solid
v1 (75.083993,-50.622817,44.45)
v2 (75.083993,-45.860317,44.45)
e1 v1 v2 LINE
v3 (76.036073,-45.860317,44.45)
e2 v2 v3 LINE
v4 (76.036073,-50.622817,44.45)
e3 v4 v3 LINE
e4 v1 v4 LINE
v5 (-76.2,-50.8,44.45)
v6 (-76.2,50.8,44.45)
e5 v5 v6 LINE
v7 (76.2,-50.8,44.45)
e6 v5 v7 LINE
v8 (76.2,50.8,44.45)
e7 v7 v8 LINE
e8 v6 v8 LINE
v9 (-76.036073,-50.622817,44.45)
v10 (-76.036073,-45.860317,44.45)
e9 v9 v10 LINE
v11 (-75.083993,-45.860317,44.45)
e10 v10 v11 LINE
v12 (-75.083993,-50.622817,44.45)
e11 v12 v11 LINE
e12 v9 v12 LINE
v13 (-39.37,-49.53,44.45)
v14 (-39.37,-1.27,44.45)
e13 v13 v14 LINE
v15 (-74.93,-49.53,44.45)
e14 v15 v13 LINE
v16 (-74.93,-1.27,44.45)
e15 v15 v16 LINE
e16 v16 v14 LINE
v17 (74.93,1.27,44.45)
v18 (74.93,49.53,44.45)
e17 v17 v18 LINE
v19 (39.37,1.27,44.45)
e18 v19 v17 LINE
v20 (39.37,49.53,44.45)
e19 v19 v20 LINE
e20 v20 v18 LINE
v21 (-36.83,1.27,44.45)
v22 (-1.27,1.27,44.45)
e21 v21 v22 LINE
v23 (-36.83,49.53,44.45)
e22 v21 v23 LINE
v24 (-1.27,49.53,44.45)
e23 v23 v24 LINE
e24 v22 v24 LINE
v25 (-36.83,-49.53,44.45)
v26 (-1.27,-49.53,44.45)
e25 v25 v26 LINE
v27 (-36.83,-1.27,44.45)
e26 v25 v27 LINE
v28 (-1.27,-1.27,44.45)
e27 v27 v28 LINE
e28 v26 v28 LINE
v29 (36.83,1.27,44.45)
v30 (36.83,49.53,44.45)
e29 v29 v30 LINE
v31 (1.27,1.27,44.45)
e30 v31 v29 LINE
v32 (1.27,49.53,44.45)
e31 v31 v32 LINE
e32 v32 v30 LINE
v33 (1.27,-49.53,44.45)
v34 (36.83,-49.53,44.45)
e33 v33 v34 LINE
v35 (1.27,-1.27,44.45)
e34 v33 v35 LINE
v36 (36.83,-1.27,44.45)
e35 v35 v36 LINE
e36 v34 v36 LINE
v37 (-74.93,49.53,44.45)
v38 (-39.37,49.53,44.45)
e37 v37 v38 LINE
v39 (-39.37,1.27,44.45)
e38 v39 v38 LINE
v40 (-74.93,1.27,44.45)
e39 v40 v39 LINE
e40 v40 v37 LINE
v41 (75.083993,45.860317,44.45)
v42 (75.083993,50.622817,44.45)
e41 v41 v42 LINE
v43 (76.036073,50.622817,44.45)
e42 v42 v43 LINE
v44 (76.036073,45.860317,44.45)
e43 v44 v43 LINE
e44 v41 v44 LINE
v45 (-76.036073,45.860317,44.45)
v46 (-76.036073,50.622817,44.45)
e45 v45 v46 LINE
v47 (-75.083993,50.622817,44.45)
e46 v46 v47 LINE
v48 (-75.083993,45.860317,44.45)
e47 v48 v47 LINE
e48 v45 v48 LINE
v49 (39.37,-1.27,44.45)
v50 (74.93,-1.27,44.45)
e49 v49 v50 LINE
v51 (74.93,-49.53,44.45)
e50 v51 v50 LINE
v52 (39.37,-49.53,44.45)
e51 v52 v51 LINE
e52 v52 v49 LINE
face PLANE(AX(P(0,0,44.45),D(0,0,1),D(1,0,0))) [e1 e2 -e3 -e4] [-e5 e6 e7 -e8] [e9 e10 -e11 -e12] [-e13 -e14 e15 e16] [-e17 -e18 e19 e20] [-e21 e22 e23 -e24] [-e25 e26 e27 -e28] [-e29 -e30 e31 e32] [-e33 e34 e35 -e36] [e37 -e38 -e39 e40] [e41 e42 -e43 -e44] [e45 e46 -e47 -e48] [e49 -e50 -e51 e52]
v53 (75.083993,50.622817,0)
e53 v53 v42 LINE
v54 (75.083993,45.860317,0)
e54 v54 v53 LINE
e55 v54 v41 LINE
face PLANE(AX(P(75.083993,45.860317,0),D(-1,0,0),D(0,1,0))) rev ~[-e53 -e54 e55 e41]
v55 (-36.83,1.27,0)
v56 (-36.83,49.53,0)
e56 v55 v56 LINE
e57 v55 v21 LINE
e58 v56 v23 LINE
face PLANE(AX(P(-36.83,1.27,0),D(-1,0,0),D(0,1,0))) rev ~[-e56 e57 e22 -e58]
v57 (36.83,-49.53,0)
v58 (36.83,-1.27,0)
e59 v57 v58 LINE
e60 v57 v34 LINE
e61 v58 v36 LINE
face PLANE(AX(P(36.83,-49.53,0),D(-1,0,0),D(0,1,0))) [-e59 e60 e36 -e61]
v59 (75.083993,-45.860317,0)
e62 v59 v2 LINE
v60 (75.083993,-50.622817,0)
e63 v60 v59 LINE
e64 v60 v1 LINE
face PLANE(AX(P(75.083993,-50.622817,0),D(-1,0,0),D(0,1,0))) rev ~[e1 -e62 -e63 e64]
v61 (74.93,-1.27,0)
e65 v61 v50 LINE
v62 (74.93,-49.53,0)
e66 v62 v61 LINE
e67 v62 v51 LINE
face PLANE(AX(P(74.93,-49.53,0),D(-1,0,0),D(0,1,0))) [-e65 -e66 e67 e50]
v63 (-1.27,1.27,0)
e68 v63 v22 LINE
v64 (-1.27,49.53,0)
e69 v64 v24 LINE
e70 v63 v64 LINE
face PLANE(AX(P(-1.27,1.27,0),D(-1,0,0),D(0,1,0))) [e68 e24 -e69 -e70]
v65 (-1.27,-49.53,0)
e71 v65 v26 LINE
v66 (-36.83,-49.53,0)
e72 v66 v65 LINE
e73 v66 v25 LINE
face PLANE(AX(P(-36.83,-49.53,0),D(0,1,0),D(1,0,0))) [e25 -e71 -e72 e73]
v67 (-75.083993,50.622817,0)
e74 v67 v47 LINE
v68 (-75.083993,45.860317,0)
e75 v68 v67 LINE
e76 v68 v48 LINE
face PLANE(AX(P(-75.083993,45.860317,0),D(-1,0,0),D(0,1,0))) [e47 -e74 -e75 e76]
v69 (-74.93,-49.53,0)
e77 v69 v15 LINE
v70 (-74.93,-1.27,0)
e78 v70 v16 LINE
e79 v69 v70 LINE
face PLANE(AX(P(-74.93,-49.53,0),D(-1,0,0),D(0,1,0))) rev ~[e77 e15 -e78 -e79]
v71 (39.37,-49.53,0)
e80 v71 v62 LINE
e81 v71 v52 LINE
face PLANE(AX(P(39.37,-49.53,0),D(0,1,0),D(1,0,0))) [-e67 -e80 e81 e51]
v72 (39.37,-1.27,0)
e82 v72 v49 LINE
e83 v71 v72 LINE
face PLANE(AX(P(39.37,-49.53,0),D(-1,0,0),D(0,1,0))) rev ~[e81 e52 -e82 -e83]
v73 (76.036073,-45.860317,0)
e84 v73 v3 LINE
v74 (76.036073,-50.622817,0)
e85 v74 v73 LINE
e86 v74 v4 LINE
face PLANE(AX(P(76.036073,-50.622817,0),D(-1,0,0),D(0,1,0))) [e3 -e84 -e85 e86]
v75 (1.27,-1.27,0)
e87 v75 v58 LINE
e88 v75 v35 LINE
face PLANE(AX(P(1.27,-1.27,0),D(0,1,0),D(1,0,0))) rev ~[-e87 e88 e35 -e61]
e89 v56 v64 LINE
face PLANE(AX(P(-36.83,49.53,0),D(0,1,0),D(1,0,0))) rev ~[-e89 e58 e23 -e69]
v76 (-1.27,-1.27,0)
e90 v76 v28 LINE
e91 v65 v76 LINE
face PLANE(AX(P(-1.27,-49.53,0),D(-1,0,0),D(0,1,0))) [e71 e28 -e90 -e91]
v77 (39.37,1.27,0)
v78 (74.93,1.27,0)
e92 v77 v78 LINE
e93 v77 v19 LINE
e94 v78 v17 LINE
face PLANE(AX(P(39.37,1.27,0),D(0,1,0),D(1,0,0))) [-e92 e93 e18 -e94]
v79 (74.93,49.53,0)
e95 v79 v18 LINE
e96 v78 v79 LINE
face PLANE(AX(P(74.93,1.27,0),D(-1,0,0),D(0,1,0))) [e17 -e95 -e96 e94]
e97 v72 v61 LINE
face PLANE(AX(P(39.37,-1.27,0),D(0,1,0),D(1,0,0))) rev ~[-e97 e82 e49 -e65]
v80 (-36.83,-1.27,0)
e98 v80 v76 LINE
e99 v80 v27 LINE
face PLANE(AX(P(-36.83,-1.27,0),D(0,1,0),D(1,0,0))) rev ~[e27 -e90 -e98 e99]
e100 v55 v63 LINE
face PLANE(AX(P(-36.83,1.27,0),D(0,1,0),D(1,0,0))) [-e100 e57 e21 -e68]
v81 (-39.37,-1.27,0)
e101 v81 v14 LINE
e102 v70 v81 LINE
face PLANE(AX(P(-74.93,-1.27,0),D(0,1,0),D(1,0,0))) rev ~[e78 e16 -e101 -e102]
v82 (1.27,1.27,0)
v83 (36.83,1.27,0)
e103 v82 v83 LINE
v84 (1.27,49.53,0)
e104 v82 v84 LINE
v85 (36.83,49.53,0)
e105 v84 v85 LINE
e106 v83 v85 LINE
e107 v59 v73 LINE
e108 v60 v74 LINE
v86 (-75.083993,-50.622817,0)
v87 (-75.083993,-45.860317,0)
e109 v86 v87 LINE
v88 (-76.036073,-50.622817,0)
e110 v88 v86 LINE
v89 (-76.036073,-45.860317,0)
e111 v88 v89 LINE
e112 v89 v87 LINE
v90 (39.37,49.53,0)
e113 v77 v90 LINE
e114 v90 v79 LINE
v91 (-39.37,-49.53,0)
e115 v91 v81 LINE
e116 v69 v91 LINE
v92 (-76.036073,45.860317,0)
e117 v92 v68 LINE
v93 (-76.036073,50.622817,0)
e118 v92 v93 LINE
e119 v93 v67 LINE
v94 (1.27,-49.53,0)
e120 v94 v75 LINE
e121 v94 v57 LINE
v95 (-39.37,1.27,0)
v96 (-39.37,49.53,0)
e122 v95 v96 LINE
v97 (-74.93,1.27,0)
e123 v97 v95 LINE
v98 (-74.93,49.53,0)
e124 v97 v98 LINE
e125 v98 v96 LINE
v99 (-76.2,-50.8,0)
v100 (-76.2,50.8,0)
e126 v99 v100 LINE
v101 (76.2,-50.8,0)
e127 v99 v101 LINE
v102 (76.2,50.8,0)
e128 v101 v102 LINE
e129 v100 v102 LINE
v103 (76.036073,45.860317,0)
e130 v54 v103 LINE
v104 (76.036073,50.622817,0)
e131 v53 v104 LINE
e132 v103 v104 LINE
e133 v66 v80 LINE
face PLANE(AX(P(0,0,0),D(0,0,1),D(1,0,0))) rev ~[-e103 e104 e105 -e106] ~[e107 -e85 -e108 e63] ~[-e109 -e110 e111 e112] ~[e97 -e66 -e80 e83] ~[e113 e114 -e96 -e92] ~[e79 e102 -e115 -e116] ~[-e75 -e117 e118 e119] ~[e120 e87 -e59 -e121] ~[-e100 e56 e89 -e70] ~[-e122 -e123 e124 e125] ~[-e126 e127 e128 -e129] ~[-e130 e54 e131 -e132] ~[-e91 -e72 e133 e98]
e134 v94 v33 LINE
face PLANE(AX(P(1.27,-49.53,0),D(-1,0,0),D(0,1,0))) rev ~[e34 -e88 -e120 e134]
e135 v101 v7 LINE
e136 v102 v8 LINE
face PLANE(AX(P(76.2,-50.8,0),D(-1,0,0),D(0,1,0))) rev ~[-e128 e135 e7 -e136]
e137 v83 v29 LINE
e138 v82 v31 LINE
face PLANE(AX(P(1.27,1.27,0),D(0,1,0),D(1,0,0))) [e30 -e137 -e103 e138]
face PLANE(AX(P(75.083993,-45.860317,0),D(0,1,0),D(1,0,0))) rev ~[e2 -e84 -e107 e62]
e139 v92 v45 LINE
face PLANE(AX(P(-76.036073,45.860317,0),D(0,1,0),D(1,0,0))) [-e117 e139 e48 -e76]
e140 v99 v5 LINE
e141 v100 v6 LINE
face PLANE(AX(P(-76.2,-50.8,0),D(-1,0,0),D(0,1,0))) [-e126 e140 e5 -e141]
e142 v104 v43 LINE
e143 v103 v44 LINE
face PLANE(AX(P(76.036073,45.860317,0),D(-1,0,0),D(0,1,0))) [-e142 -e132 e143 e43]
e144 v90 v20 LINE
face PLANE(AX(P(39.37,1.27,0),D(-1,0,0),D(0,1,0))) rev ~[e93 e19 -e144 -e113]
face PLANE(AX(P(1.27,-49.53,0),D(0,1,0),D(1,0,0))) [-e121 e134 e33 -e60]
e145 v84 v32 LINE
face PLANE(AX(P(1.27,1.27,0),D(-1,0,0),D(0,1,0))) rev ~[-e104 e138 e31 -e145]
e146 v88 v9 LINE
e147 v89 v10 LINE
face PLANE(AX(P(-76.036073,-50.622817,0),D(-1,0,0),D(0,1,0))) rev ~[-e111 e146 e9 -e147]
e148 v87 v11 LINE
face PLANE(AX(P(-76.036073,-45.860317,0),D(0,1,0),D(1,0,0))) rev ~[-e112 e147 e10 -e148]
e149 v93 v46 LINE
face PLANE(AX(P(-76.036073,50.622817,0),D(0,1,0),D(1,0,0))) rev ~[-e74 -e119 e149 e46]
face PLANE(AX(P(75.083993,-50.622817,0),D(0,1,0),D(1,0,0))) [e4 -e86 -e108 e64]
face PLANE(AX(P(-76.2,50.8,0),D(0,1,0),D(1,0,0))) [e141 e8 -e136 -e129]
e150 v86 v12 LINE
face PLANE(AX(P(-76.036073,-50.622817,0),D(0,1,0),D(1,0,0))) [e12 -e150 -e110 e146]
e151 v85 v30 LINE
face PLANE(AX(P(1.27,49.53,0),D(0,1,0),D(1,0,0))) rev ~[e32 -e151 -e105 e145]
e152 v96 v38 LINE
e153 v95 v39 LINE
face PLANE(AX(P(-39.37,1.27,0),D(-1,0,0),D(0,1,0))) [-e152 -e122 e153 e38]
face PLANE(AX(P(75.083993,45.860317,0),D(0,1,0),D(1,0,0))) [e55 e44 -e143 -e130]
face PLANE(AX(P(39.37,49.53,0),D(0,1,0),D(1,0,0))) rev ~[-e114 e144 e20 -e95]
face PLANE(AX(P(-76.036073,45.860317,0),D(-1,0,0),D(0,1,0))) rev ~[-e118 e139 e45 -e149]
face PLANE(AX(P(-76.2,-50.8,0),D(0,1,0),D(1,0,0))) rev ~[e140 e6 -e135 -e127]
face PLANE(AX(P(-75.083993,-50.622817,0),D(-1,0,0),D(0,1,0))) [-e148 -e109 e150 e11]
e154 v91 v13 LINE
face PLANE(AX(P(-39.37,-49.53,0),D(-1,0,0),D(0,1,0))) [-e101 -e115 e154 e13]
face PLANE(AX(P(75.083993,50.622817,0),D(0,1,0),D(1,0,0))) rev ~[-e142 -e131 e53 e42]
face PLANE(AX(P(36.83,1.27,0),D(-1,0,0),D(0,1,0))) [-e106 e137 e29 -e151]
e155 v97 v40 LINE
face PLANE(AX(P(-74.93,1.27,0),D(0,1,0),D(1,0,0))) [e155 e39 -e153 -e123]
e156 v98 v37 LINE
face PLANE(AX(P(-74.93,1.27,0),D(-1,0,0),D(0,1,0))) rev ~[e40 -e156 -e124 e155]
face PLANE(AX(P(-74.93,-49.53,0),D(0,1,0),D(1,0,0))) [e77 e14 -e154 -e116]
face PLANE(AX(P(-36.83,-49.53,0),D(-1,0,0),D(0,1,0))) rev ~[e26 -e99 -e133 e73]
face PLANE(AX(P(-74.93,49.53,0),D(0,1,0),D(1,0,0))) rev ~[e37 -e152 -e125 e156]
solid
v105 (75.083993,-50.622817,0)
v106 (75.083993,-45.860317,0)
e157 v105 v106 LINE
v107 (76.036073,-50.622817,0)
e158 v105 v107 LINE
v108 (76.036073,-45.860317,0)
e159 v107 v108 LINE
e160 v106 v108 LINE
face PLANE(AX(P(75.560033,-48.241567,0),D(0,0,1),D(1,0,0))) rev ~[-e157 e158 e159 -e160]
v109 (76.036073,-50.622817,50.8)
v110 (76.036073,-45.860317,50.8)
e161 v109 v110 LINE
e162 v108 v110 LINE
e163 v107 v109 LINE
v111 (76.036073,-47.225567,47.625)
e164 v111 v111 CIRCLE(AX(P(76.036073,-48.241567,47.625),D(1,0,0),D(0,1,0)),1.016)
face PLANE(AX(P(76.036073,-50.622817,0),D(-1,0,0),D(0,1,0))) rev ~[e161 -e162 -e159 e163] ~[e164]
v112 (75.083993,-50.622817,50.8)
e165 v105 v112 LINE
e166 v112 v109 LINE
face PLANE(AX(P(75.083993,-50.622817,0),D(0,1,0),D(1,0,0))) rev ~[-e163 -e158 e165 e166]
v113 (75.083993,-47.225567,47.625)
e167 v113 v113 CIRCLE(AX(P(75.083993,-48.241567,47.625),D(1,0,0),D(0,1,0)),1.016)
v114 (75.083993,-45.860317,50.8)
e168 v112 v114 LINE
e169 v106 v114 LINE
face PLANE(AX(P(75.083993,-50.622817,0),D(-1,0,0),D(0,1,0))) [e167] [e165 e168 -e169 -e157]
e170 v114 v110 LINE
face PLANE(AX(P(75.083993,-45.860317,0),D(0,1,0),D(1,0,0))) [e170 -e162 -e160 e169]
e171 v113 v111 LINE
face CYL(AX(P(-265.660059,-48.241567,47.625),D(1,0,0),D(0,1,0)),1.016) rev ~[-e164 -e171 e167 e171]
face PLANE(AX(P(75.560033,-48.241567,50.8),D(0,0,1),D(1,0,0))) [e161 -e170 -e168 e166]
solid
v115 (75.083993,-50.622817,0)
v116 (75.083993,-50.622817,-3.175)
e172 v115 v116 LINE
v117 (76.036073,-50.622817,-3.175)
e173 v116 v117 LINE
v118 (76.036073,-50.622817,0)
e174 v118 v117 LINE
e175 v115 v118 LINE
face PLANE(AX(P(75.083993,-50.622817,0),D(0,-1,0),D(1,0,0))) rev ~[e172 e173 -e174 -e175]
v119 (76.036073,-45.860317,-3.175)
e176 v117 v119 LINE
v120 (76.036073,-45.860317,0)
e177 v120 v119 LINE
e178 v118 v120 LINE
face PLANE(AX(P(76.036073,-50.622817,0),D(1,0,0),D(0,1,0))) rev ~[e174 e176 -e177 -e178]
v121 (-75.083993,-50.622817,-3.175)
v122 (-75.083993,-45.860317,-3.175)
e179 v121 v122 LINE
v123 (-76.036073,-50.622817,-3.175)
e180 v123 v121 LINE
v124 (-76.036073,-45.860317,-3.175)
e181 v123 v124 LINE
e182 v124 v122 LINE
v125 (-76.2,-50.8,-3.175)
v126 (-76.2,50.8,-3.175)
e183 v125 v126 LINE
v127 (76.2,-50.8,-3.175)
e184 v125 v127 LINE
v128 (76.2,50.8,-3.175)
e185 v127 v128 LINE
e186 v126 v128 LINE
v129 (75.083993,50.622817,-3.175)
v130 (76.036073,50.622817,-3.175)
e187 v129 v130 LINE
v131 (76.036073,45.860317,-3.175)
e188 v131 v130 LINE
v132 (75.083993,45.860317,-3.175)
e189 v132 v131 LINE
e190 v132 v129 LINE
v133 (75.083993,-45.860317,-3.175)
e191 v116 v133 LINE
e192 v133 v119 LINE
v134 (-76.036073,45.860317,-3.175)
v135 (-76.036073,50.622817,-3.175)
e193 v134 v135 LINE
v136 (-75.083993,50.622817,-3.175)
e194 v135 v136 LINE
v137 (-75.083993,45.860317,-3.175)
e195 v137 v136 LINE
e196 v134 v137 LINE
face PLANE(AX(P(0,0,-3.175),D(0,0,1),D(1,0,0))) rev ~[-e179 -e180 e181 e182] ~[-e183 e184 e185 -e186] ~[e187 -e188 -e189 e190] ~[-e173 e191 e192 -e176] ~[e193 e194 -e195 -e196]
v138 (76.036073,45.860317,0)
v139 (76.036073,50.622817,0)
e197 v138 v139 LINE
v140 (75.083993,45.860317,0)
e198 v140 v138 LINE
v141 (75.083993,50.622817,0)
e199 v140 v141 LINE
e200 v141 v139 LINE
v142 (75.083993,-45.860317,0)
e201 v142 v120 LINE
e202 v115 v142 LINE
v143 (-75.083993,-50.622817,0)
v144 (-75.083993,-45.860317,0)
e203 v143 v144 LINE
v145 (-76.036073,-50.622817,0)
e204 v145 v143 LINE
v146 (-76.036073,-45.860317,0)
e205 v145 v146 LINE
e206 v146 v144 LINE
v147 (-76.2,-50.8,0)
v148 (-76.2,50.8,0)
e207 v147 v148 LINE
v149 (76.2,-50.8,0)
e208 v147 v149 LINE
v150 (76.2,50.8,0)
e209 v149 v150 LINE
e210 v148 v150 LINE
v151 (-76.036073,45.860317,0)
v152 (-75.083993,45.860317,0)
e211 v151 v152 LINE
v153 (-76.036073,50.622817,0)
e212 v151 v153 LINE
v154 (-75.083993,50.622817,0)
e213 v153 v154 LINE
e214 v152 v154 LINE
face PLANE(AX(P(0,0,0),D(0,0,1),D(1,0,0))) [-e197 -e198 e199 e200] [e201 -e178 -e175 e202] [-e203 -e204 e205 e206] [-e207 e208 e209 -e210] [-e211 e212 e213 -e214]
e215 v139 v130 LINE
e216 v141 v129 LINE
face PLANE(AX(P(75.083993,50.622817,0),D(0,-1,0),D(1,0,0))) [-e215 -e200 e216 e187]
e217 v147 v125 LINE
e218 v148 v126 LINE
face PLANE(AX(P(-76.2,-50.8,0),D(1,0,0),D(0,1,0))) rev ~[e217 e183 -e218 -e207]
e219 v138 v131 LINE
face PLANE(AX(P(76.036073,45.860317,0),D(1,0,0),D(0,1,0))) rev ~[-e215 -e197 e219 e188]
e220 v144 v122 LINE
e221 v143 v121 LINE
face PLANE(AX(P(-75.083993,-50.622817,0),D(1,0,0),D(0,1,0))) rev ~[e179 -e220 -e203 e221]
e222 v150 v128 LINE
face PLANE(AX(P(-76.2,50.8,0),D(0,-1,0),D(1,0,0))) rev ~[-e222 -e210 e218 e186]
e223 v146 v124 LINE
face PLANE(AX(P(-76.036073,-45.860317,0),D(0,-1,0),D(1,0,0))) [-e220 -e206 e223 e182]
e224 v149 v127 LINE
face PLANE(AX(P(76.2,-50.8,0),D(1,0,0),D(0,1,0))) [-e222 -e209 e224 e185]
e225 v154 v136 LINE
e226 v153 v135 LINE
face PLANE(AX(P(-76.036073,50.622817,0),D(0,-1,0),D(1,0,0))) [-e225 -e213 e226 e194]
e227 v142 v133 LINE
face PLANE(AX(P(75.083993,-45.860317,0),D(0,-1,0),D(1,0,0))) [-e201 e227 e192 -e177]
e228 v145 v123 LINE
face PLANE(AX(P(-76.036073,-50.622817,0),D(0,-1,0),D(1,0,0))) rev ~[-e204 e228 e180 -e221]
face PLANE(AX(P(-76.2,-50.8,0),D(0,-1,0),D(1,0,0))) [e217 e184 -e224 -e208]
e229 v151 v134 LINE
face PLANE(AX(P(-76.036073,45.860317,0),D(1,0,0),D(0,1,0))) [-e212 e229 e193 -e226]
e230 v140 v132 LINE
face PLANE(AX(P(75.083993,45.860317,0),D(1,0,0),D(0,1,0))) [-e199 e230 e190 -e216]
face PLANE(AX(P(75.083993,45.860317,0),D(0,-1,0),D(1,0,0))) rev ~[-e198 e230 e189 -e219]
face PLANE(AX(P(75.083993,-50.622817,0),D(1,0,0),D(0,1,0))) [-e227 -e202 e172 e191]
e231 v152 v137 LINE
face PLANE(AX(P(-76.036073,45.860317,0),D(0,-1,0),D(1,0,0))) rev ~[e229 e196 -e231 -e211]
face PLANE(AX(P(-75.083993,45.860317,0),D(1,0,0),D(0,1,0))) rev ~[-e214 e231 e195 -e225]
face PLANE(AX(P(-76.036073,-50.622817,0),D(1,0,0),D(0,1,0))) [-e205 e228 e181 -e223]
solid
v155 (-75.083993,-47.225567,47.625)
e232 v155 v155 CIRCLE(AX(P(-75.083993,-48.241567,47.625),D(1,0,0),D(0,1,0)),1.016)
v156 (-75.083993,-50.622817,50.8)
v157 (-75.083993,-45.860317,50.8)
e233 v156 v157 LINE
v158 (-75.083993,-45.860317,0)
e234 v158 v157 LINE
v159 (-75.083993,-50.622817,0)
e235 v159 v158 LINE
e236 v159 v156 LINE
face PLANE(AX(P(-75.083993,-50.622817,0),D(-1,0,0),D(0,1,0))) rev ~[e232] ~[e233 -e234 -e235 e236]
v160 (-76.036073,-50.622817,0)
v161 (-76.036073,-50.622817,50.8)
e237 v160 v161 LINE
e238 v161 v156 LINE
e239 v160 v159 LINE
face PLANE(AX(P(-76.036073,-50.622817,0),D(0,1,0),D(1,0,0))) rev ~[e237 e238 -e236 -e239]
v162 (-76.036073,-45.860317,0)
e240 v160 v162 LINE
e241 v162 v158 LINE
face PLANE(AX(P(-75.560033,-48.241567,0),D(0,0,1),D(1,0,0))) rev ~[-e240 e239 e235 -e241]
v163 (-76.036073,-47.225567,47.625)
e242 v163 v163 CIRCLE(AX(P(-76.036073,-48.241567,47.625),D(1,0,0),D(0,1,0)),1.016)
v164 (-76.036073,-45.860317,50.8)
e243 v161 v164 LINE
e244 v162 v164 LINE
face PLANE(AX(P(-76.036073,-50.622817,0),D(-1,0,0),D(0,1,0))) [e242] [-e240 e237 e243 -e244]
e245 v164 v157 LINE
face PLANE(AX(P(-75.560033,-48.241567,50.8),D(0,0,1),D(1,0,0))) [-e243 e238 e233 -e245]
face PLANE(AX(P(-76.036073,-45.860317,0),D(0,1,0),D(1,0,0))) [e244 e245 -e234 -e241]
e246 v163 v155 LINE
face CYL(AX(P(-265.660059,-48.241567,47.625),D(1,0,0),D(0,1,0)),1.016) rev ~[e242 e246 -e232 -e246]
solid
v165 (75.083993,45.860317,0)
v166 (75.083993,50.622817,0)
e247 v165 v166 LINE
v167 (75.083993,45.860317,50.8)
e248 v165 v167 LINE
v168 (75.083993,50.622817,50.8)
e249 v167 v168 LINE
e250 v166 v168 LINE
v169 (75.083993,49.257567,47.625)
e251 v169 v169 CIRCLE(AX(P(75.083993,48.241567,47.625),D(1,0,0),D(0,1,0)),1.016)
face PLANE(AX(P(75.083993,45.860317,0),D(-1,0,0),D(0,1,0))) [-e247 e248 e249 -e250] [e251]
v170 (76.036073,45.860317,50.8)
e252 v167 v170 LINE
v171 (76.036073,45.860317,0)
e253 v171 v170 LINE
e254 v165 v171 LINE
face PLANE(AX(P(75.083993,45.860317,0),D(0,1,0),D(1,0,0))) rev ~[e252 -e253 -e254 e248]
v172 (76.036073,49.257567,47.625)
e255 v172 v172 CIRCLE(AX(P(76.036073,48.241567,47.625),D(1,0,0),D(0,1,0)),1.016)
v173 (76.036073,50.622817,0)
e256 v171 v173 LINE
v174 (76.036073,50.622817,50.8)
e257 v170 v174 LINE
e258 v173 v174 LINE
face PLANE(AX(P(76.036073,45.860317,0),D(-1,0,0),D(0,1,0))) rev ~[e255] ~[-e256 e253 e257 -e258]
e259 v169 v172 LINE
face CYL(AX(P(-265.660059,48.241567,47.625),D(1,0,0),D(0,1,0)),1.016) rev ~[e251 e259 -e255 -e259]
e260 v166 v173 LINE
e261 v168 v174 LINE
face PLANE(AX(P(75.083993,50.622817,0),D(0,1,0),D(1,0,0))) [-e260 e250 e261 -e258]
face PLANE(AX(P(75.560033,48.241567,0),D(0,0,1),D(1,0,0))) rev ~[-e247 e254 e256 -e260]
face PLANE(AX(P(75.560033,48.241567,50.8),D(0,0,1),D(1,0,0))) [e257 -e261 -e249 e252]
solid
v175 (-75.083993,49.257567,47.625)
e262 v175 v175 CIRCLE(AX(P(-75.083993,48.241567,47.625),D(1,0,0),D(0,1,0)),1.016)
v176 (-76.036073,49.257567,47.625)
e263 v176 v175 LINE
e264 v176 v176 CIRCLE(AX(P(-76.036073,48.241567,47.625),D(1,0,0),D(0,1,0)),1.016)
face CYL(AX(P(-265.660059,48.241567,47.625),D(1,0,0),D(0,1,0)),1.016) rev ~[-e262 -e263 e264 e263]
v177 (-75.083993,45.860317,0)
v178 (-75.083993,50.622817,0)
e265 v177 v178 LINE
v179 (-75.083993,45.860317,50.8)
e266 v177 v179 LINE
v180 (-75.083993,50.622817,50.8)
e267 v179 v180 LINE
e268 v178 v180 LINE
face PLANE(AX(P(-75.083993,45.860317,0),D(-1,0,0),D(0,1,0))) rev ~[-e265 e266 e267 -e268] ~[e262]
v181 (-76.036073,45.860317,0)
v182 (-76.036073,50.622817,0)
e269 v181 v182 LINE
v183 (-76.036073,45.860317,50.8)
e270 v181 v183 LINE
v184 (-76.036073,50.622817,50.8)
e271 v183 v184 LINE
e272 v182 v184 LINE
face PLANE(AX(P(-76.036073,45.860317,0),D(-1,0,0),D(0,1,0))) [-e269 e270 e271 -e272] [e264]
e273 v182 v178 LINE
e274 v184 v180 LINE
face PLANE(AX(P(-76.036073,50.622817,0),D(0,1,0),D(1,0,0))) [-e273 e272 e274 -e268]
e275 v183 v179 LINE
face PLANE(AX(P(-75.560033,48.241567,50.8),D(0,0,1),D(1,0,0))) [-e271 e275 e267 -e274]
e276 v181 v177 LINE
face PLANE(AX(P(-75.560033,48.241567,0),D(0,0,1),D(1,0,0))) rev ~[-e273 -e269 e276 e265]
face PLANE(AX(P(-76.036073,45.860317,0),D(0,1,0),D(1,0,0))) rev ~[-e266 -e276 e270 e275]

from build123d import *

# Parameters (mm, degrees)
F0_W     = 152.4
F0_H     = 101.6
F0_W_2   = 0.95208
F0_H_2   = 4.7625
F0_W_3   = 35.56
F0_H_3   = 48.26
F1_DEPTH = 3.175
F2_DEPTH = 50.8
F3_DEPTH = 44.45
F5_D     = 2.032
F6_D     = 2.032


with BuildPart() as f1:
    # F0 (on Top) → F1 (new body)
    with BuildSketch(Plane.XY):
        Rectangle(F0_W, F0_H)
        with Locations((-75.560033, -48.241567)):
            Rectangle(F0_W_2, F0_H_2, mode=Mode.SUBTRACT)
        with Locations((-57.15, -25.4)):
            Rectangle(F0_W_3, F0_H_3, mode=Mode.SUBTRACT)
        with Locations((-19.05, -25.4)):
            Rectangle(F0_W_3, F0_H_3, mode=Mode.SUBTRACT)
        with Locations((19.05, -25.4)):
            Rectangle(F0_W_3, F0_H_3, mode=Mode.SUBTRACT)
        with Locations((75.560033, -48.241567)):
            Rectangle(F0_W_2, F0_H_2, mode=Mode.SUBTRACT)
        with Locations((57.15, -25.4)):
            Rectangle(F0_W_3, F0_H_3, mode=Mode.SUBTRACT)
        with Locations((-57.15, 25.4)):
            Rectangle(F0_W_3, F0_H_3, mode=Mode.SUBTRACT)
        with Locations((-75.560033, 48.241567)):
            Rectangle(F0_W_2, F0_H_2, mode=Mode.SUBTRACT)
        with Locations((-19.05, 25.4)):
            Rectangle(F0_W_3, F0_H_3, mode=Mode.SUBTRACT)
        with Locations((19.05, 25.4)):
            Rectangle(F0_W_3, F0_H_3, mode=Mode.SUBTRACT)
        with Locations((57.15, 25.4)):
            Rectangle(F0_W_3, F0_H_3, mode=Mode.SUBTRACT)
        with Locations((75.560033, 48.241567)):
            Rectangle(F0_W_2, F0_H_2, mode=Mode.SUBTRACT)
        with Locations((-57.15, 25.4)):
            Rectangle(F0_W_3, F0_H_3)
        with Locations((-19.05, 25.4)):
            Rectangle(F0_W_3, F0_H_3)
        with Locations((19.05, 25.4)):
            Rectangle(F0_W_3, F0_H_3)
        with Locations((57.15, 25.4)):
            Rectangle(F0_W_3, F0_H_3)
        with Locations((57.15, -25.4)):
            Rectangle(F0_W_3, F0_H_3)
        with Locations((19.05, -25.4)):
            Rectangle(F0_W_3, F0_H_3)
        with Locations((-19.05, -25.4)):
            Rectangle(F0_W_3, F0_H_3)
        with Locations((-57.15, -25.4)):
            Rectangle(F0_W_3, F0_H_3)
    extrude(amount=-F1_DEPTH)


with BuildPart() as f2:
    # F0 (on Top) → F2 (new body)
    with BuildSketch(Plane.XY):
        with Locations((-75.560033, 48.241567)):
            Rectangle(F0_W_2, F0_H_2)
        with Locations((75.560033, 48.241567)):
            Rectangle(F0_W_2, F0_H_2)
        with Locations((75.560033, -48.241567)):
            Rectangle(F0_W_2, F0_H_2)
        with Locations((-75.560033, -48.241567)):
            Rectangle(F0_W_2, F0_H_2)
    extrude(amount=F2_DEPTH)

    # F5 (through all)
    with Locations(Plane(origin=(-76.036073, 0, 0), x_dir=(0, -1, 0), z_dir=(-1, 0, 0))):
        with Locations((-48.241567, 47.625)):
            Hole(F5_D / 2)

    # F6 (through all)
    with Locations(Plane(origin=(-76.036073, 0, 0), x_dir=(0, -1, 0), z_dir=(-1, 0, 0))):
        with Locations((48.241567, 47.625)):
            Hole(F6_D / 2)


with BuildPart() as f3:
    # F0 (on Top) → F3 (new body)
    with BuildSketch(Plane.XY):
        Rectangle(F0_W, F0_H)
        with Locations((-75.560033, -48.241567)):
            Rectangle(F0_W_2, F0_H_2, mode=Mode.SUBTRACT)
        with Locations((-57.15, -25.4)):
            Rectangle(F0_W_3, F0_H_3, mode=Mode.SUBTRACT)
        with Locations((-19.05, -25.4)):
            Rectangle(F0_W_3, F0_H_3, mode=Mode.SUBTRACT)
        with Locations((19.05, -25.4)):
            Rectangle(F0_W_3, F0_H_3, mode=Mode.SUBTRACT)
        with Locations((75.560033, -48.241567)):
            Rectangle(F0_W_2, F0_H_2, mode=Mode.SUBTRACT)
        with Locations((57.15, -25.4)):
            Rectangle(F0_W_3, F0_H_3, mode=Mode.SUBTRACT)
        with Locations((-57.15, 25.4)):
            Rectangle(F0_W_3, F0_H_3, mode=Mode.SUBTRACT)
        with Locations((-75.560033, 48.241567)):
            Rectangle(F0_W_2, F0_H_2, mode=Mode.SUBTRACT)
        with Locations((-19.05, 25.4)):
            Rectangle(F0_W_3, F0_H_3, mode=Mode.SUBTRACT)
        with Locations((19.05, 25.4)):
            Rectangle(F0_W_3, F0_H_3, mode=Mode.SUBTRACT)
        with Locations((57.15, 25.4)):
            Rectangle(F0_W_3, F0_H_3, mode=Mode.SUBTRACT)
        with Locations((75.560033, 48.241567)):
            Rectangle(F0_W_2, F0_H_2, mode=Mode.SUBTRACT)
    extrude(amount=F3_DEPTH)


solid = Compound([f1.part, f2.part, f3.part])
